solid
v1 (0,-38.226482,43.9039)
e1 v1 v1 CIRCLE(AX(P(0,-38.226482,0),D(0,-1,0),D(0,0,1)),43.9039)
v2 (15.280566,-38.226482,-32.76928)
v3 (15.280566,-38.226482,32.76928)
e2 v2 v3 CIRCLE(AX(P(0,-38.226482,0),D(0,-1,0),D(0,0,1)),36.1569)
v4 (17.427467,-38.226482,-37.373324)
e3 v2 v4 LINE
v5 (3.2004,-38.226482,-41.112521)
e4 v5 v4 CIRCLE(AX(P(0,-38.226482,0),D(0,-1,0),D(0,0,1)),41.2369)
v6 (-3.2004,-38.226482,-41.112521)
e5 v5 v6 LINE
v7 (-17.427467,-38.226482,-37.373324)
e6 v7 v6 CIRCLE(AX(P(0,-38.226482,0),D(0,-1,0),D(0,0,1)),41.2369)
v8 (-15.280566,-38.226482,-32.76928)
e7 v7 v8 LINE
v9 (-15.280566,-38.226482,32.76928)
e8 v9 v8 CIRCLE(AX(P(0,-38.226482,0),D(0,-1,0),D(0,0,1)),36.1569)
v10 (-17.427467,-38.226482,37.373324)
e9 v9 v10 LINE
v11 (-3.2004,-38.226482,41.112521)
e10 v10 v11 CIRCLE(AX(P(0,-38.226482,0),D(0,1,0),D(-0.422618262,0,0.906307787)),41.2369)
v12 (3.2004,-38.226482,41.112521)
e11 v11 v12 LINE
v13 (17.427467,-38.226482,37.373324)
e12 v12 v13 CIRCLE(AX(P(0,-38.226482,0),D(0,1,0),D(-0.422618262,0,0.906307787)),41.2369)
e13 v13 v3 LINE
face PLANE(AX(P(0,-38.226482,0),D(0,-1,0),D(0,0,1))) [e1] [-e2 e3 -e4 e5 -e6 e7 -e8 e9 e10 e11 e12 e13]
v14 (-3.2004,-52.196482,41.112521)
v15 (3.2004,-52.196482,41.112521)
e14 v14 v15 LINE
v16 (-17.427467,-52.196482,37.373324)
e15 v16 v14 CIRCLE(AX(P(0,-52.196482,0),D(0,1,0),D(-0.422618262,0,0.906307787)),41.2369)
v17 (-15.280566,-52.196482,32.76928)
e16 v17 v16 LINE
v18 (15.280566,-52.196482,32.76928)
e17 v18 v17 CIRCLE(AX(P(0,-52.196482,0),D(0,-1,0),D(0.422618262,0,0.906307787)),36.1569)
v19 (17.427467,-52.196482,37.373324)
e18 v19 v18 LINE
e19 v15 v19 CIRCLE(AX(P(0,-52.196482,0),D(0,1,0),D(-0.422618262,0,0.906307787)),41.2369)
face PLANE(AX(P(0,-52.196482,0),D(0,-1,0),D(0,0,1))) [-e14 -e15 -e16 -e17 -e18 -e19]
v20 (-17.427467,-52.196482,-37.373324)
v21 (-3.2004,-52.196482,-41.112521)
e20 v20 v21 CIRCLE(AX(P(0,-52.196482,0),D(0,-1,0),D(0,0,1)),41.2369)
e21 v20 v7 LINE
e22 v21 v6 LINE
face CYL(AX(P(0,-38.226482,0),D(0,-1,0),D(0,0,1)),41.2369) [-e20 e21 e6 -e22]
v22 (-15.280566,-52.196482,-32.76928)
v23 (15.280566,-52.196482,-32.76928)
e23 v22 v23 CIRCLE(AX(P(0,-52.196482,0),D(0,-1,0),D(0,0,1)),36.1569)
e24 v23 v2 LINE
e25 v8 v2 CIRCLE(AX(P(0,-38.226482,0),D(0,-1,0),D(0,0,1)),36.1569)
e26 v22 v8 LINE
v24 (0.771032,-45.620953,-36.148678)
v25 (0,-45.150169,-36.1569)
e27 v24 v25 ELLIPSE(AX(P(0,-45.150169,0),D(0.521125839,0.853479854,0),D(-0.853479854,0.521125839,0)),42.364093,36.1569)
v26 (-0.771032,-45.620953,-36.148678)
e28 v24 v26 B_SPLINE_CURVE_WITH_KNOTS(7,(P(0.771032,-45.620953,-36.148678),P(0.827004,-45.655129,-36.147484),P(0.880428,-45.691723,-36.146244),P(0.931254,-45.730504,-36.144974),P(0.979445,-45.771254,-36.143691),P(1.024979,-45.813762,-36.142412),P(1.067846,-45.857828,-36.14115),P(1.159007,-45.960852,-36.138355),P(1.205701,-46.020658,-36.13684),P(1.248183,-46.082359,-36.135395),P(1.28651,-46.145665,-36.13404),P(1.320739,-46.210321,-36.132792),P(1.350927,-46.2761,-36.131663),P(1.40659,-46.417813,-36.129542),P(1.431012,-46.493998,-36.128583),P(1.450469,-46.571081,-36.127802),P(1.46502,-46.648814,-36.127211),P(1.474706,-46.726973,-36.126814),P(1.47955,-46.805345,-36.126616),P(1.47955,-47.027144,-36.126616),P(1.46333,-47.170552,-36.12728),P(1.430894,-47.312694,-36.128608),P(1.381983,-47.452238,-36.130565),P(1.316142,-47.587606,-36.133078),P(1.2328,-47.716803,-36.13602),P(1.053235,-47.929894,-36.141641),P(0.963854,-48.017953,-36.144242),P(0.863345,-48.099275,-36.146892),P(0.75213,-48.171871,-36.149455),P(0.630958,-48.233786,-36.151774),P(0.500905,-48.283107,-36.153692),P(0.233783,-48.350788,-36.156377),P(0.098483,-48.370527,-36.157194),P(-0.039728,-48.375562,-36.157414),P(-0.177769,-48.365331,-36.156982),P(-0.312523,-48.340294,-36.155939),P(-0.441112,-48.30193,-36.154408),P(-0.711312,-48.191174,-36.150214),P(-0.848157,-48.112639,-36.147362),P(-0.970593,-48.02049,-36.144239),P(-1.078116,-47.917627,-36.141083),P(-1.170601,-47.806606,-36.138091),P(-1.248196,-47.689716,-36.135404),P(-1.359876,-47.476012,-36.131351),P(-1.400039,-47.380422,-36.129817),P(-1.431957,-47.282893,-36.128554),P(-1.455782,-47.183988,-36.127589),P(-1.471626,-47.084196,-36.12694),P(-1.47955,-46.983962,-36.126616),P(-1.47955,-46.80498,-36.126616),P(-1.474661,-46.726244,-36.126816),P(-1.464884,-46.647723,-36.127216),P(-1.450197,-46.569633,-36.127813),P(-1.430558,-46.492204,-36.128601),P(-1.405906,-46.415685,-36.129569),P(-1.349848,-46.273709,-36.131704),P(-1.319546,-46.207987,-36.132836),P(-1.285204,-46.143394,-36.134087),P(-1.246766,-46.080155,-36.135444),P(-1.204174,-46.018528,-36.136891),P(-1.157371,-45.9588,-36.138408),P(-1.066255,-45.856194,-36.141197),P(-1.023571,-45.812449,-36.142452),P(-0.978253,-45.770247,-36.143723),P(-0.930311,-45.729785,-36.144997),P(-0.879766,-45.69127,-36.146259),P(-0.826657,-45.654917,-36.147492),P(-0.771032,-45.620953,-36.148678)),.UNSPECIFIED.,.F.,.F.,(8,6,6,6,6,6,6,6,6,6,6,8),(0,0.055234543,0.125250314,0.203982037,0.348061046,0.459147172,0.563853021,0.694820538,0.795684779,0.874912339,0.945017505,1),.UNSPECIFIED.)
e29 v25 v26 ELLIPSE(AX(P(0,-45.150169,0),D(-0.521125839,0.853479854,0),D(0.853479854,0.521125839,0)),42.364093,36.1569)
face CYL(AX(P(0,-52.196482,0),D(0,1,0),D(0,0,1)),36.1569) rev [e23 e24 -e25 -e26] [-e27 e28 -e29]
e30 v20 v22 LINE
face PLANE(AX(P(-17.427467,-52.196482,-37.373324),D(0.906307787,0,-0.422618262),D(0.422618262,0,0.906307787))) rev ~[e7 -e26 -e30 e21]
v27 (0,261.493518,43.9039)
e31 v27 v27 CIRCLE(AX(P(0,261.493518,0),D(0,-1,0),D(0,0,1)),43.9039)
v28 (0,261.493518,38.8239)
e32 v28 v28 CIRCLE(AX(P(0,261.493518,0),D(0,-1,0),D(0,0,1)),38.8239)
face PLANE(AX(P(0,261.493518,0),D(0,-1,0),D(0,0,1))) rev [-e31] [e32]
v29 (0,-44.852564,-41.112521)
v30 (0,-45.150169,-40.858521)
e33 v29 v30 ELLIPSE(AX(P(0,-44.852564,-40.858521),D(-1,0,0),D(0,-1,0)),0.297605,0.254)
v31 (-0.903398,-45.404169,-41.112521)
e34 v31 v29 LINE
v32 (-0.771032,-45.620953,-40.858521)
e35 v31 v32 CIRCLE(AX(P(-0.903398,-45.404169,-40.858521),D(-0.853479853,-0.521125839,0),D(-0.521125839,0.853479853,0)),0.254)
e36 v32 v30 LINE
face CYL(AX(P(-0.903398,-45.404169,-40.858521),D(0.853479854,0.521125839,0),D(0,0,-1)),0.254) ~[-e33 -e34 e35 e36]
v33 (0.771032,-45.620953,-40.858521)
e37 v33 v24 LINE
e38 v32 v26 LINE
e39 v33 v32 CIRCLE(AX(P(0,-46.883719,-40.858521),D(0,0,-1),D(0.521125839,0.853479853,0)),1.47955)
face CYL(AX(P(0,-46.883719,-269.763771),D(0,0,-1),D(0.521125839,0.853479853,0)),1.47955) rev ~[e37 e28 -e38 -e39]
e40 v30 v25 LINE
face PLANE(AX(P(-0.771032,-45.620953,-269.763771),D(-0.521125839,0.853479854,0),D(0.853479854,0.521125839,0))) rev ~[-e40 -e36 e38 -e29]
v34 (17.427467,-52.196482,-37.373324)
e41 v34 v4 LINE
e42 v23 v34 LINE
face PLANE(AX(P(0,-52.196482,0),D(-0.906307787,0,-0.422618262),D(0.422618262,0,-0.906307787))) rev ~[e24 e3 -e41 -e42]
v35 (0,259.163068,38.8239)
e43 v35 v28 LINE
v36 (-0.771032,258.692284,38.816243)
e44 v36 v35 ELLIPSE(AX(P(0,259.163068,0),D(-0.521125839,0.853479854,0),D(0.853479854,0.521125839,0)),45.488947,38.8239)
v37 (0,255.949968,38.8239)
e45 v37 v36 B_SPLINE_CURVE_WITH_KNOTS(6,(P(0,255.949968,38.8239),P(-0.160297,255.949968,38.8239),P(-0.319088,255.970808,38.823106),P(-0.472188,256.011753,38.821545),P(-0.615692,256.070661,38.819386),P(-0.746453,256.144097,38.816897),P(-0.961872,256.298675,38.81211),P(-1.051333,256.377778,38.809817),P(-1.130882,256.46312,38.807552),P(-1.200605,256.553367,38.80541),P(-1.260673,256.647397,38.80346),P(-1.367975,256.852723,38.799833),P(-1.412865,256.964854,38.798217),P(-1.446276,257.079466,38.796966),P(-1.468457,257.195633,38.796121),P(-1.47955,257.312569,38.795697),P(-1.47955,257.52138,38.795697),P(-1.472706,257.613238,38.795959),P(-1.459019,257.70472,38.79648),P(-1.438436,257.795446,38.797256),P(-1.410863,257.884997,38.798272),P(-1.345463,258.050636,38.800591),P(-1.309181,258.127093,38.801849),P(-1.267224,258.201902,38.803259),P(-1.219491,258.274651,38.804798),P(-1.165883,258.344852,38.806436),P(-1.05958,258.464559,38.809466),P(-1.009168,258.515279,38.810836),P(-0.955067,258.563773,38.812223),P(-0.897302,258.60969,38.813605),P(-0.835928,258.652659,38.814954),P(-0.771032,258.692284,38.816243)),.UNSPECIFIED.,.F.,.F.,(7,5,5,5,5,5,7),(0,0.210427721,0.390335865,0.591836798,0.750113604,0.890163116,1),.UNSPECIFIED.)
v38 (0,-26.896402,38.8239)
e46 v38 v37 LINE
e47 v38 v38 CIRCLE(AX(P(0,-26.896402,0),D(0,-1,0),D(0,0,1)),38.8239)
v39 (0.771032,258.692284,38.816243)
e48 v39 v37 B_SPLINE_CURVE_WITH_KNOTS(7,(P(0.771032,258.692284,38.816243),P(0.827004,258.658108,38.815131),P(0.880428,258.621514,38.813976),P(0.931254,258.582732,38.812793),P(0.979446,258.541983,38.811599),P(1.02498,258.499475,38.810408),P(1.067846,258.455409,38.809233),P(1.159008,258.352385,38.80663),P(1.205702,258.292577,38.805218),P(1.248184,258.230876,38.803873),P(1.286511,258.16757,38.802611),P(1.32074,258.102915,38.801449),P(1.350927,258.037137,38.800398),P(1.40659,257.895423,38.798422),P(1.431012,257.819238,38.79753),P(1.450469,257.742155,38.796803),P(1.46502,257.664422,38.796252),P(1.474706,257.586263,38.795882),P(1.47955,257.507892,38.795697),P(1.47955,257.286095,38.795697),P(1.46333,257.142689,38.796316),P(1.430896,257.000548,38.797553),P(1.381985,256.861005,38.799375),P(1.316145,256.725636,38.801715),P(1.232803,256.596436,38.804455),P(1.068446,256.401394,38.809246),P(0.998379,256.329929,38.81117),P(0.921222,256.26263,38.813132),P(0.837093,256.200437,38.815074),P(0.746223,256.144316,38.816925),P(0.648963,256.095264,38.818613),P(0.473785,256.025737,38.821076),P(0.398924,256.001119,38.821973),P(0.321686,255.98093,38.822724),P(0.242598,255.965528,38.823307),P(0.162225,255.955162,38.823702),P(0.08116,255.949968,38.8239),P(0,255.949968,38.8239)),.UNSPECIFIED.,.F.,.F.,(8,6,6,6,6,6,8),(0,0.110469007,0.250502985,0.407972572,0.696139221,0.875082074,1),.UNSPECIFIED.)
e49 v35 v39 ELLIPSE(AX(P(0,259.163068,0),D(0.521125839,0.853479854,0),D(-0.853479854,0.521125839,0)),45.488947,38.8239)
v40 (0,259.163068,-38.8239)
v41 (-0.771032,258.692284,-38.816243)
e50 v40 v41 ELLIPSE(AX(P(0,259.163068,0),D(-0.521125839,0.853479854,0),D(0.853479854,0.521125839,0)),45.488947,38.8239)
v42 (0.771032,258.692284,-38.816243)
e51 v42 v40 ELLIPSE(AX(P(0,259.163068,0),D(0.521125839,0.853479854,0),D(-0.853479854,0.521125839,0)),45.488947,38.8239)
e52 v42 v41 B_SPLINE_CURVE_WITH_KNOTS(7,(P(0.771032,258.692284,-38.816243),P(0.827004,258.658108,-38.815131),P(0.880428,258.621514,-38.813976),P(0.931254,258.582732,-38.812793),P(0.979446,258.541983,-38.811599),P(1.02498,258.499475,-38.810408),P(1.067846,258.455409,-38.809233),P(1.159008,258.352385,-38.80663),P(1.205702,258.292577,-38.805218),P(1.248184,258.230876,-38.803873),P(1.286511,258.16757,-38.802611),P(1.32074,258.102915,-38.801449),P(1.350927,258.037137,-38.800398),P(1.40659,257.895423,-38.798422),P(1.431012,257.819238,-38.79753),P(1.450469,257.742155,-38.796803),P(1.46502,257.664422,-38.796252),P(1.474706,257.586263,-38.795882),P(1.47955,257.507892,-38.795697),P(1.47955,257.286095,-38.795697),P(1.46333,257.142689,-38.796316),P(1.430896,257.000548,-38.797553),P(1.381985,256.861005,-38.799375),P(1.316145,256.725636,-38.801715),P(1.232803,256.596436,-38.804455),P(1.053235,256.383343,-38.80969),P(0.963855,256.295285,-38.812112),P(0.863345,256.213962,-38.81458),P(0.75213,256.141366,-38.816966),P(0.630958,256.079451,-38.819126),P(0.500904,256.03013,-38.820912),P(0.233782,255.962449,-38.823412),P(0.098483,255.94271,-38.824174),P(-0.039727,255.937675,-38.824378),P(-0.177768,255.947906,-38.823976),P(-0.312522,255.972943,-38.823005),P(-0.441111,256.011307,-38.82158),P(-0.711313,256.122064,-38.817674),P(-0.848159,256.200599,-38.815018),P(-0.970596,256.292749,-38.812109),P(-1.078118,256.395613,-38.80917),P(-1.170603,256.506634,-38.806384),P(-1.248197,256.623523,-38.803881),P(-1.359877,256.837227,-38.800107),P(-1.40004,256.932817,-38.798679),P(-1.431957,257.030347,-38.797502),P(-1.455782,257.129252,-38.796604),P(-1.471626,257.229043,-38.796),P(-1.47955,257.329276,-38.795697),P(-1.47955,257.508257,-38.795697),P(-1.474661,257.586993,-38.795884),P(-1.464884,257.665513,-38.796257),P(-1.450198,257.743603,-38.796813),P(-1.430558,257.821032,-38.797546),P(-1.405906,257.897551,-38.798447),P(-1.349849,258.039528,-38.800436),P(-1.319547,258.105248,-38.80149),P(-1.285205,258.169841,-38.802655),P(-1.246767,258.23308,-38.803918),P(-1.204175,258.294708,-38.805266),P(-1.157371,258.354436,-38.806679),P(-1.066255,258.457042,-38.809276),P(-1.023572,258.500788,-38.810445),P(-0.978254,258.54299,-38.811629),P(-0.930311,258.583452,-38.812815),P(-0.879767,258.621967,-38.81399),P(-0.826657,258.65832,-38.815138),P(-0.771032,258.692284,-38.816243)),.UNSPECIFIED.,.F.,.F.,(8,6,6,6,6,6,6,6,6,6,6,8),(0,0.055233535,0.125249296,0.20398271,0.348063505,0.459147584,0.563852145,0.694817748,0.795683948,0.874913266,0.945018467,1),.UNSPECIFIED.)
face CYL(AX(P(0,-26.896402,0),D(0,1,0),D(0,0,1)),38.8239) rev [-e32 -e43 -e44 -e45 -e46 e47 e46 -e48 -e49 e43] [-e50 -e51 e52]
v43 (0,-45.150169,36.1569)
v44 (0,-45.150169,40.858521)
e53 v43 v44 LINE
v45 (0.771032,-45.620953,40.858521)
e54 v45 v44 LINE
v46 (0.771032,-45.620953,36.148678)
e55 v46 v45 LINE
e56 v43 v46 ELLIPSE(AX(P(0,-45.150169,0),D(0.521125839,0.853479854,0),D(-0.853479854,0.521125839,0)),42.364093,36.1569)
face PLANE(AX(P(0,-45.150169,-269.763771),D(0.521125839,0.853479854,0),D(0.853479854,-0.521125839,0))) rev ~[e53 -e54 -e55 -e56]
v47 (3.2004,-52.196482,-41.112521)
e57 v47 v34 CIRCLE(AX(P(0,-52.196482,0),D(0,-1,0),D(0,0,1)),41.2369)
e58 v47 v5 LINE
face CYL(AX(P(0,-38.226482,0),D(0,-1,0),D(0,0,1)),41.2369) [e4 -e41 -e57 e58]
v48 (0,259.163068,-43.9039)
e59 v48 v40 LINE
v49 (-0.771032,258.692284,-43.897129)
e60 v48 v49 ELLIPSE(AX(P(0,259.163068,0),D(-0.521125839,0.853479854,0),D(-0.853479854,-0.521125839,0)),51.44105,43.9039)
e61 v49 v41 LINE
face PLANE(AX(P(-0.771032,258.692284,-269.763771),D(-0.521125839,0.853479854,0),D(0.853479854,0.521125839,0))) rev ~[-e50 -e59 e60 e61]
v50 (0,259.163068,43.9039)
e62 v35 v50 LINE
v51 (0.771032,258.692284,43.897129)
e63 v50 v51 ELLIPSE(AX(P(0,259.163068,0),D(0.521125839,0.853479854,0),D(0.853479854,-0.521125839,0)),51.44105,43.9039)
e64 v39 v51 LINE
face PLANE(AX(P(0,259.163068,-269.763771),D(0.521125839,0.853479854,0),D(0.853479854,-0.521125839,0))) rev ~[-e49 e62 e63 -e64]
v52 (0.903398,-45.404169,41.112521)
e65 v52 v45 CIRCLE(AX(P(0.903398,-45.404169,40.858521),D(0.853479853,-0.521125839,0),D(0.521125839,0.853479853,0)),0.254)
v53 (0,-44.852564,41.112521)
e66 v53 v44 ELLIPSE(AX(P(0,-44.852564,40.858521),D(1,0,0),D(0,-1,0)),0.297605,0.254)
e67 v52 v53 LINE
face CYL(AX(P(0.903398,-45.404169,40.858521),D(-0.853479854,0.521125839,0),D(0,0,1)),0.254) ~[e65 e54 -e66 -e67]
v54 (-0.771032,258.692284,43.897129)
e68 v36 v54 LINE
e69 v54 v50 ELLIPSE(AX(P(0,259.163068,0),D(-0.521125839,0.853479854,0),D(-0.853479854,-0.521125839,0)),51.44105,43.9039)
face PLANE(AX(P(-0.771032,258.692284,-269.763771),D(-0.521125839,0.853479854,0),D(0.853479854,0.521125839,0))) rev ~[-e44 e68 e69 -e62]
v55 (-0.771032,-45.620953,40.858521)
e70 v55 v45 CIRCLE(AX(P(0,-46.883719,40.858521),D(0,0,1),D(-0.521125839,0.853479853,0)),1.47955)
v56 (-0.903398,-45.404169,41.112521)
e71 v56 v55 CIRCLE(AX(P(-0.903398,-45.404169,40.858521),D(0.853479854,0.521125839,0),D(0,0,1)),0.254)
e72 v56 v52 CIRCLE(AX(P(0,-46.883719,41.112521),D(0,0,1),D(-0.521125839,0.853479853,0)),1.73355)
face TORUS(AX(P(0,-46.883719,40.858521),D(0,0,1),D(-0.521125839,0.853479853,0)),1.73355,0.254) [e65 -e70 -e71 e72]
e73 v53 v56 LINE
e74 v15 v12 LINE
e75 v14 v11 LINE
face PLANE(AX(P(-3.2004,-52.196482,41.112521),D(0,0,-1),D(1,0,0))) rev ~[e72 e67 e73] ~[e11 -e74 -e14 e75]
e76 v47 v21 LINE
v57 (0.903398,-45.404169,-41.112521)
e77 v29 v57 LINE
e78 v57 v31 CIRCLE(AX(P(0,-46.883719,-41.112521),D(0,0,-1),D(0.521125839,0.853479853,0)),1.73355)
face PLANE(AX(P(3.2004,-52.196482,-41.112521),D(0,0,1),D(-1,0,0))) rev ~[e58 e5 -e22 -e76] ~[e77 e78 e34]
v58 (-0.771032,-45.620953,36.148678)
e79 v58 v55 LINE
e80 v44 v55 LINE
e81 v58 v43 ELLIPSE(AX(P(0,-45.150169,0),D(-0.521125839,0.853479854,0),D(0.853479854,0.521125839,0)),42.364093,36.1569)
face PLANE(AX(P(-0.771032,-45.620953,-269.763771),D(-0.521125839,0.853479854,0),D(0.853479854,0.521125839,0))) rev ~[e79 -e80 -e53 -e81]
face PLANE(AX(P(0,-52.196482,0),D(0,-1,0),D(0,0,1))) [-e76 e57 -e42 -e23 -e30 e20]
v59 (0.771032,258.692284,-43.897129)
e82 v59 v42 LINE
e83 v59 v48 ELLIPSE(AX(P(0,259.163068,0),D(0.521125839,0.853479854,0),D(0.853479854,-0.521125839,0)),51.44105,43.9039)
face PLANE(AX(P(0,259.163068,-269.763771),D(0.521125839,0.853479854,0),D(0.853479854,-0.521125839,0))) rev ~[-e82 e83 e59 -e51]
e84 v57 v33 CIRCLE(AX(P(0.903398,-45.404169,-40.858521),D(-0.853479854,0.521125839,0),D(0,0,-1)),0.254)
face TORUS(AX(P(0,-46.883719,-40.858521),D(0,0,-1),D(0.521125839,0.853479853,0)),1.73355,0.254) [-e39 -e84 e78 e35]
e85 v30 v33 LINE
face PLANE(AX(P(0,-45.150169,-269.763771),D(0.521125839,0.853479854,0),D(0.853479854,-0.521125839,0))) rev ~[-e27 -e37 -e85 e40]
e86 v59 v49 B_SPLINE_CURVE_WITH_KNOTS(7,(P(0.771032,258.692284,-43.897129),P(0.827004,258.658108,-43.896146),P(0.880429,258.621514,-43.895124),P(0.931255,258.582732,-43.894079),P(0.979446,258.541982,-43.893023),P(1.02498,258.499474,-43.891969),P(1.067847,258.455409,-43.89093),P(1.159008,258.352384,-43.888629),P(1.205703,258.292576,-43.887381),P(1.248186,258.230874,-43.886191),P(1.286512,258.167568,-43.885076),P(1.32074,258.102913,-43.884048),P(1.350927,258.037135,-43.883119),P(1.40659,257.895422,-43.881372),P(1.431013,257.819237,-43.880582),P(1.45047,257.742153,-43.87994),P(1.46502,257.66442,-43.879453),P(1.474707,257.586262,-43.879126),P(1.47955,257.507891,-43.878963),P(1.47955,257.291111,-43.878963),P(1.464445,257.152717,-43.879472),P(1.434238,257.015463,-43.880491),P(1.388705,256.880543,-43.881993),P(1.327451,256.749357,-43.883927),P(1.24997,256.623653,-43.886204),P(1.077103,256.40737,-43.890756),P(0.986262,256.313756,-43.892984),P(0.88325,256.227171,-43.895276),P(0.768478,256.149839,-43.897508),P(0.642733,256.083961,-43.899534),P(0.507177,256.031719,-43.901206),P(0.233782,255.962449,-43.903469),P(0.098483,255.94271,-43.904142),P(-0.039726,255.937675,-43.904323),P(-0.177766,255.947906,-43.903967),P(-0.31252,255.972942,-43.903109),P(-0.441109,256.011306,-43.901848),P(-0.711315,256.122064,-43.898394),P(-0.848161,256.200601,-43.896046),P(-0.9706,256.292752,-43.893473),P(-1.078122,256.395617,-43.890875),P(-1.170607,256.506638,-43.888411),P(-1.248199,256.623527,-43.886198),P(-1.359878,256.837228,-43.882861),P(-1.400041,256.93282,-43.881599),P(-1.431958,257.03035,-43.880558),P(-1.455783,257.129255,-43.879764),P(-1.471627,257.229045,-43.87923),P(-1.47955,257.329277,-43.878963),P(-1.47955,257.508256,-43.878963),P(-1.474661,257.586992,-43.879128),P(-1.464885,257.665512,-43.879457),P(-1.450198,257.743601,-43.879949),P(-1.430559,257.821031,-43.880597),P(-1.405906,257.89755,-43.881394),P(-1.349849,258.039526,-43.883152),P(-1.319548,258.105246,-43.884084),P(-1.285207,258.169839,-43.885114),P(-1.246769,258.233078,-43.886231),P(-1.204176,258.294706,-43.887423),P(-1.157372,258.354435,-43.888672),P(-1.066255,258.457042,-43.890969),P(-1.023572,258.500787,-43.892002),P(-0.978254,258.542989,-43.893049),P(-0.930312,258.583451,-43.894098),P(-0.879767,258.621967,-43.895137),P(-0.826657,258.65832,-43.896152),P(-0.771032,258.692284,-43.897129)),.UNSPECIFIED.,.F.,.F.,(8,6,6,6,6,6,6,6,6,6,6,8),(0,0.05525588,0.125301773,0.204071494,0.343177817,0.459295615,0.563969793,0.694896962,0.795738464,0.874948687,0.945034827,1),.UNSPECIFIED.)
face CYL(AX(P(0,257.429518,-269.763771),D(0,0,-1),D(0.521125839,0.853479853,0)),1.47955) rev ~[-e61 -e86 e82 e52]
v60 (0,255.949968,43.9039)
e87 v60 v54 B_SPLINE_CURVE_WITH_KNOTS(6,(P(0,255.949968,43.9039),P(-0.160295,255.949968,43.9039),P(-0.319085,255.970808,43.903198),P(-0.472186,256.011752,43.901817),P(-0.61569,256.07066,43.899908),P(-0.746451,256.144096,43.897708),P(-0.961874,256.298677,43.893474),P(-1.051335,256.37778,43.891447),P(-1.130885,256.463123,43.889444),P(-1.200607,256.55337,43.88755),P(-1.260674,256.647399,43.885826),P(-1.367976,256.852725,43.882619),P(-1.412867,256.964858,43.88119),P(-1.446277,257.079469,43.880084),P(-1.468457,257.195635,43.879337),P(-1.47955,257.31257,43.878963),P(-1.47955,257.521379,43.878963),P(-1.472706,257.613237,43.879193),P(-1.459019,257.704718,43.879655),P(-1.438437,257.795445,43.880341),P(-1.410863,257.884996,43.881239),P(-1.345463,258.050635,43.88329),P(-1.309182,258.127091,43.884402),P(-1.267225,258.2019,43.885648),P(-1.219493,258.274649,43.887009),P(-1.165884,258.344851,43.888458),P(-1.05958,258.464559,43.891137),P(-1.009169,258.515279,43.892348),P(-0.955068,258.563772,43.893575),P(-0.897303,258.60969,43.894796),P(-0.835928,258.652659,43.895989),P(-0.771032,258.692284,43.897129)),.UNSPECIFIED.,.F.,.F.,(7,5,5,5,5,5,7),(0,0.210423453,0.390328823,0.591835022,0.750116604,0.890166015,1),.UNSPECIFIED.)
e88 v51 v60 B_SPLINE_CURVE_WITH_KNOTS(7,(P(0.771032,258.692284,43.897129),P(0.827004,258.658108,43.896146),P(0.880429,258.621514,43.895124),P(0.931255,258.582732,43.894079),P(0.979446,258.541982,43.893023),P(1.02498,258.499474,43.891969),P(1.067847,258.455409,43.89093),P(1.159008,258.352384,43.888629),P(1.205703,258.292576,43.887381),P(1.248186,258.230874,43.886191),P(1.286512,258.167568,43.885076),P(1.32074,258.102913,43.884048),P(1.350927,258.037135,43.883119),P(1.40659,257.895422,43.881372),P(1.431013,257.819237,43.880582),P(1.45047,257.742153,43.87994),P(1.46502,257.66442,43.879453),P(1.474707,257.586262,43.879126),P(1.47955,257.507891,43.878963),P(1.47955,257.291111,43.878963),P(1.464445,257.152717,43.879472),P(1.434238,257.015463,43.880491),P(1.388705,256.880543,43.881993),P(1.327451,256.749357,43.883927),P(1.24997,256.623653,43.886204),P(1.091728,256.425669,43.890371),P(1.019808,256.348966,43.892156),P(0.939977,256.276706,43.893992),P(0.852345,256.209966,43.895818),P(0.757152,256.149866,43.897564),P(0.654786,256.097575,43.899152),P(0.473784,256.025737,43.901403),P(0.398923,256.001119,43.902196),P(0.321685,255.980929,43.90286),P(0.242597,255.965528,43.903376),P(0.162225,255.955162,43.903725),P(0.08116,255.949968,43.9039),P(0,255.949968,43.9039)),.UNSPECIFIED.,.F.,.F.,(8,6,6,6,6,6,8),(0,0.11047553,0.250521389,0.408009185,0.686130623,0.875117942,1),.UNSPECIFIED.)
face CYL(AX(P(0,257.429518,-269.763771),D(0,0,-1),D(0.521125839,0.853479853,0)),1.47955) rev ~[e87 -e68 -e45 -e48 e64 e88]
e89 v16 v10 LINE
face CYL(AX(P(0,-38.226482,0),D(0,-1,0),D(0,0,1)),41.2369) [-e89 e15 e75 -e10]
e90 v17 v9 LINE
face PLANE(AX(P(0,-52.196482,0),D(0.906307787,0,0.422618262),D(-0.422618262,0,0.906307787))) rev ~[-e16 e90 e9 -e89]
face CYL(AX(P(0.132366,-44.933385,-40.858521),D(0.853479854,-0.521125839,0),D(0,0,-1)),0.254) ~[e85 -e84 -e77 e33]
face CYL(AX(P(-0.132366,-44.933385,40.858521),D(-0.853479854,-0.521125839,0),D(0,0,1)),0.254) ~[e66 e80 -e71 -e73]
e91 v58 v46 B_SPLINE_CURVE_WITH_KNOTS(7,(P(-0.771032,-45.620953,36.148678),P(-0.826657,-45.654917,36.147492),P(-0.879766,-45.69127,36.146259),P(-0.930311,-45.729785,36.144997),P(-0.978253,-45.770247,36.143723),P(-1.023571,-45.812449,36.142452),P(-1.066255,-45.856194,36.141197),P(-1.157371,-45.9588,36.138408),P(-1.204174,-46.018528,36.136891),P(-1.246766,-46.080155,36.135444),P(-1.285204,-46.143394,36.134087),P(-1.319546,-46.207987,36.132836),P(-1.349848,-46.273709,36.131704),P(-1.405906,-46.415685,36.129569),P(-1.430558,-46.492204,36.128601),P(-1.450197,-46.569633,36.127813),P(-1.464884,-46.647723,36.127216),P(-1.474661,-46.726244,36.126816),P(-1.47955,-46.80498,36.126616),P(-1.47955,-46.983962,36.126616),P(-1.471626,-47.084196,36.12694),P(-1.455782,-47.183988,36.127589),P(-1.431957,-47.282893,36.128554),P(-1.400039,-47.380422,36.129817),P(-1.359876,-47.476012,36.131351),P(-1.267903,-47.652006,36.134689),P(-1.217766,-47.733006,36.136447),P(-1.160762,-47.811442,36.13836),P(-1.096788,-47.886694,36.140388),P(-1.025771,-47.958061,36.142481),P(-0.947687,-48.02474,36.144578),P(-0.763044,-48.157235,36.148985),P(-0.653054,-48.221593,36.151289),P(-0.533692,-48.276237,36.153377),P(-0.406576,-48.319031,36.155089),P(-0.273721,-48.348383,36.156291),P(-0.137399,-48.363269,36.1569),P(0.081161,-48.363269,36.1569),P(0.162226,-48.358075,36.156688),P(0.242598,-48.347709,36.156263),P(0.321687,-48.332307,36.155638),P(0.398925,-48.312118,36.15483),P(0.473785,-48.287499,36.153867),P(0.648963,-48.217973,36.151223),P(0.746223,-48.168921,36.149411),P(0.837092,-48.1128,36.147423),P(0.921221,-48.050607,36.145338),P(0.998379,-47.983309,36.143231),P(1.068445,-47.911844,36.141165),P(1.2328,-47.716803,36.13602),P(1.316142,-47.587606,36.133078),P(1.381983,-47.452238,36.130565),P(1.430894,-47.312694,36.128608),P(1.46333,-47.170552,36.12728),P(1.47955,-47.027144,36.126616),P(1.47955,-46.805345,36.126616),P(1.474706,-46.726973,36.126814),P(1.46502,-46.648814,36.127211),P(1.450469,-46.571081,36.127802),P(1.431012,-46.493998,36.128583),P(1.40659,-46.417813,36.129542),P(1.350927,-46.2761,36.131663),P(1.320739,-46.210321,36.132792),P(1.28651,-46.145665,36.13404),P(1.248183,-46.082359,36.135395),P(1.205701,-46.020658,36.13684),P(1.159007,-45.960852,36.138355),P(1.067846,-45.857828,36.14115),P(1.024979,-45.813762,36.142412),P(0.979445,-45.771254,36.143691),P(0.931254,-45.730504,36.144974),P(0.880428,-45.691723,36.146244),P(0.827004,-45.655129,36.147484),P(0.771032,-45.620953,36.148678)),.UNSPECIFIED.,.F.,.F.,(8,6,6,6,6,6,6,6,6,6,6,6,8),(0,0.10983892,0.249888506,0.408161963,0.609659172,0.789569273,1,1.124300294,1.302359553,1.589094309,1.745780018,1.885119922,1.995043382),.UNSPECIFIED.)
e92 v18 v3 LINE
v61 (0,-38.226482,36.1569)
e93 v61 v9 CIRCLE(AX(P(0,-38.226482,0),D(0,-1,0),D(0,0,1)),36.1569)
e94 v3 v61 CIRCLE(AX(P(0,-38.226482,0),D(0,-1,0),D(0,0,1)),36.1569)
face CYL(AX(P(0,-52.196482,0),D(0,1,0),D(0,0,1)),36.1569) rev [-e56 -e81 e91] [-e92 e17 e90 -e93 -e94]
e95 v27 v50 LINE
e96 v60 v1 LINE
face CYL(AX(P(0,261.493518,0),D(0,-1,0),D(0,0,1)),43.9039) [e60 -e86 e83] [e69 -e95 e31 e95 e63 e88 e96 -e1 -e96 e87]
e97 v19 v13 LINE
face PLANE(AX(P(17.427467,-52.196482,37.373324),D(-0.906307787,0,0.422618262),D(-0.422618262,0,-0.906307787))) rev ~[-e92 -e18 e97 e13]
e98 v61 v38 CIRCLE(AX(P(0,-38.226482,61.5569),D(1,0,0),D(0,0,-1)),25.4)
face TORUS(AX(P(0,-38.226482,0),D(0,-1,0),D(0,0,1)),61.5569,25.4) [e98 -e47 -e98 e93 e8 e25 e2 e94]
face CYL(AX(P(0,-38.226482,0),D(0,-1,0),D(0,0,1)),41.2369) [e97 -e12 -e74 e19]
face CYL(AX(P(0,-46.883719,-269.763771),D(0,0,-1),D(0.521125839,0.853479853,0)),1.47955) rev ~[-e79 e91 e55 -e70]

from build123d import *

# Parameters (mm, degrees)
CUT_EXTRUDE1_DEPTH      = 269.763771223
CUT_EXTRUDE1_DEPTH_BACK = 269.763771223
CUT_EXTRUDE4_DEPTH      = 13.97
CUT_EXTRUDE5_DEPTH      = 13.97
CIRPATTERN1_COUNT       = 2
CUT_EXTRUDE6_DEPTH      = 269.763771223
CUT_EXTRUDE6_DEPTH_BACK = 269.763771223
FILLET1_R               = 0.254


with BuildPart() as part:
    # Sketch1 → Revolve1 (revolve)
    with BuildSketch(Plane.XY, mode=Mode.PRIVATE) as revolve1_sk:
        with BuildLine():
            Line((-38.8239, 261.4935178), (-43.9039, 261.4935178))
            Line((-43.9039, 261.4935178), (-43.9039, -38.2264822))
            Line((-43.9039, -38.2264822), (-41.2369, -38.2264822))
            Line((-41.2369, -38.2264822), (-41.2369, -52.1964822))
            Line((-41.2369, -52.1964822), (-36.1569, -52.1964822))
            Line((-36.1569, -52.1964822), (-36.1569, -38.2264822))
            ThreePointArc((-36.1569, -38.2264822), (-36.832638636, -32.406611067), (-38.8239, -26.89640228))
            Line((-38.8239, -26.89640228), (-38.8239, 261.4935178))
        make_face()
    revolve(revolve1_sk.sketch.rotate(Axis((0, 16.071963393, 0), (0, -1, 0)), 270), axis=Axis((0, 16.071963393, 0), (0, -1, 0)))

    # Sketch2 → Cut-Extrude1 (cut, two sides: drawn at the far end of the back side and taken through both)
    with BuildSketch(Plane.XY.offset(-CUT_EXTRUDE1_DEPTH_BACK)):
        with BuildLine():
            Line((-0.771031735, -45.62095313), (0, -45.150169247))
            Line((0, -45.150169247), (0.771031735, -45.62095313))
            ThreePointArc((0.771031735, -45.62095313), (0, -48.363269247), (-0.771031735, -45.62095313))
        make_face()
    extrude(amount=CUT_EXTRUDE1_DEPTH + CUT_EXTRUDE1_DEPTH_BACK, mode=Mode.SUBTRACT)

    # Sketch3 → Cut-Extrude4 (cut)
    with BuildSketch(Plane.XZ.offset(52.1964822)):
        with BuildLine():
            Line((-17.427466998, -37.373323583), (0, 0))
            Line((0, 0), (-17.427466998, 37.373323583))
            ThreePointArc((-17.427466998, 37.373323583), (-41.2369, 0), (-17.427466998, -37.373323583))
        make_face()
        with BuildLine():
            Line((17.427466998, 37.373323583), (0, 0))
            Line((0, 0), (17.427466998, -37.373323583))
            ThreePointArc((17.427466998, -37.373323583), (34.778848712, -22.156570219), (41.2369, 0))
            ThreePointArc((41.2369, 0), (34.778848712, 22.156570219), (17.427466998, 37.373323583))
        make_face()
    extrude(amount=-CUT_EXTRUDE4_DEPTH, mode=Mode.SUBTRACT)

    # Sketch4 → Cut-Extrude5 (cut)
    with BuildSketch(Plane.XZ.offset(52.1964822)):
        with BuildLine():
            ThreePointArc((-3.2004, -41.112520738), (-1.601408002, -41.205793452), (0, -41.2369))
            ThreePointArc((0, -41.2369), (1.601408002, -41.205793452), (3.2004, -41.112520738))
            Line((3.2004, -41.112520738), (-3.2004, -41.112520738))
        make_face()
    cut_extrude5 = extrude(amount=-CUT_EXTRUDE5_DEPTH, mode=Mode.SUBTRACT)

    # CirPattern1: Cut-Extrude5 ×2 about axis
    cirpattern1_axis = Axis((0, 0, 0), (0, 1, 0))
    for i in range(1, CIRPATTERN1_COUNT):
        add(cut_extrude5.rotate(cirpattern1_axis, i * 360 / CIRPATTERN1_COUNT), mode=Mode.SUBTRACT)

    # Sketch5 → Cut-Extrude6 (cut, two sides: drawn at the far end of the back side and taken through both)
    with BuildSketch(Plane.XY.offset(-CUT_EXTRUDE6_DEPTH_BACK)):
        with BuildLine():
            Line((-0.771031735, 258.692283917), (0, 259.1630678))
            Line((0, 259.1630678), (0.771031735, 258.692283917))
            ThreePointArc((0.771031735, 258.692283917), (0, 255.9499678), (-0.771031735, 258.692283917))
        make_face()
    extrude(amount=CUT_EXTRUDE6_DEPTH + CUT_EXTRUDE6_DEPTH_BACK, mode=Mode.SUBTRACT)

    # Fillet1
    fillet1_edges = [part.edges().sort_by_distance(p)[0] for p in [
        (-0.385515867, -45.385561188, 41.112520738),
        (0.385515867, -45.385561188, 41.112520738),
        (0, -48.363269247, 41.112520738),
        (0, -48.363269247, -41.112520738),
        (-0.385515867, -45.385561188, -41.112520738),
        (0.385515867, -45.385561188, -41.112520738),
    ]]
    fillet(fillet1_edges, radius=FILLET1_R)


solid = part.part
